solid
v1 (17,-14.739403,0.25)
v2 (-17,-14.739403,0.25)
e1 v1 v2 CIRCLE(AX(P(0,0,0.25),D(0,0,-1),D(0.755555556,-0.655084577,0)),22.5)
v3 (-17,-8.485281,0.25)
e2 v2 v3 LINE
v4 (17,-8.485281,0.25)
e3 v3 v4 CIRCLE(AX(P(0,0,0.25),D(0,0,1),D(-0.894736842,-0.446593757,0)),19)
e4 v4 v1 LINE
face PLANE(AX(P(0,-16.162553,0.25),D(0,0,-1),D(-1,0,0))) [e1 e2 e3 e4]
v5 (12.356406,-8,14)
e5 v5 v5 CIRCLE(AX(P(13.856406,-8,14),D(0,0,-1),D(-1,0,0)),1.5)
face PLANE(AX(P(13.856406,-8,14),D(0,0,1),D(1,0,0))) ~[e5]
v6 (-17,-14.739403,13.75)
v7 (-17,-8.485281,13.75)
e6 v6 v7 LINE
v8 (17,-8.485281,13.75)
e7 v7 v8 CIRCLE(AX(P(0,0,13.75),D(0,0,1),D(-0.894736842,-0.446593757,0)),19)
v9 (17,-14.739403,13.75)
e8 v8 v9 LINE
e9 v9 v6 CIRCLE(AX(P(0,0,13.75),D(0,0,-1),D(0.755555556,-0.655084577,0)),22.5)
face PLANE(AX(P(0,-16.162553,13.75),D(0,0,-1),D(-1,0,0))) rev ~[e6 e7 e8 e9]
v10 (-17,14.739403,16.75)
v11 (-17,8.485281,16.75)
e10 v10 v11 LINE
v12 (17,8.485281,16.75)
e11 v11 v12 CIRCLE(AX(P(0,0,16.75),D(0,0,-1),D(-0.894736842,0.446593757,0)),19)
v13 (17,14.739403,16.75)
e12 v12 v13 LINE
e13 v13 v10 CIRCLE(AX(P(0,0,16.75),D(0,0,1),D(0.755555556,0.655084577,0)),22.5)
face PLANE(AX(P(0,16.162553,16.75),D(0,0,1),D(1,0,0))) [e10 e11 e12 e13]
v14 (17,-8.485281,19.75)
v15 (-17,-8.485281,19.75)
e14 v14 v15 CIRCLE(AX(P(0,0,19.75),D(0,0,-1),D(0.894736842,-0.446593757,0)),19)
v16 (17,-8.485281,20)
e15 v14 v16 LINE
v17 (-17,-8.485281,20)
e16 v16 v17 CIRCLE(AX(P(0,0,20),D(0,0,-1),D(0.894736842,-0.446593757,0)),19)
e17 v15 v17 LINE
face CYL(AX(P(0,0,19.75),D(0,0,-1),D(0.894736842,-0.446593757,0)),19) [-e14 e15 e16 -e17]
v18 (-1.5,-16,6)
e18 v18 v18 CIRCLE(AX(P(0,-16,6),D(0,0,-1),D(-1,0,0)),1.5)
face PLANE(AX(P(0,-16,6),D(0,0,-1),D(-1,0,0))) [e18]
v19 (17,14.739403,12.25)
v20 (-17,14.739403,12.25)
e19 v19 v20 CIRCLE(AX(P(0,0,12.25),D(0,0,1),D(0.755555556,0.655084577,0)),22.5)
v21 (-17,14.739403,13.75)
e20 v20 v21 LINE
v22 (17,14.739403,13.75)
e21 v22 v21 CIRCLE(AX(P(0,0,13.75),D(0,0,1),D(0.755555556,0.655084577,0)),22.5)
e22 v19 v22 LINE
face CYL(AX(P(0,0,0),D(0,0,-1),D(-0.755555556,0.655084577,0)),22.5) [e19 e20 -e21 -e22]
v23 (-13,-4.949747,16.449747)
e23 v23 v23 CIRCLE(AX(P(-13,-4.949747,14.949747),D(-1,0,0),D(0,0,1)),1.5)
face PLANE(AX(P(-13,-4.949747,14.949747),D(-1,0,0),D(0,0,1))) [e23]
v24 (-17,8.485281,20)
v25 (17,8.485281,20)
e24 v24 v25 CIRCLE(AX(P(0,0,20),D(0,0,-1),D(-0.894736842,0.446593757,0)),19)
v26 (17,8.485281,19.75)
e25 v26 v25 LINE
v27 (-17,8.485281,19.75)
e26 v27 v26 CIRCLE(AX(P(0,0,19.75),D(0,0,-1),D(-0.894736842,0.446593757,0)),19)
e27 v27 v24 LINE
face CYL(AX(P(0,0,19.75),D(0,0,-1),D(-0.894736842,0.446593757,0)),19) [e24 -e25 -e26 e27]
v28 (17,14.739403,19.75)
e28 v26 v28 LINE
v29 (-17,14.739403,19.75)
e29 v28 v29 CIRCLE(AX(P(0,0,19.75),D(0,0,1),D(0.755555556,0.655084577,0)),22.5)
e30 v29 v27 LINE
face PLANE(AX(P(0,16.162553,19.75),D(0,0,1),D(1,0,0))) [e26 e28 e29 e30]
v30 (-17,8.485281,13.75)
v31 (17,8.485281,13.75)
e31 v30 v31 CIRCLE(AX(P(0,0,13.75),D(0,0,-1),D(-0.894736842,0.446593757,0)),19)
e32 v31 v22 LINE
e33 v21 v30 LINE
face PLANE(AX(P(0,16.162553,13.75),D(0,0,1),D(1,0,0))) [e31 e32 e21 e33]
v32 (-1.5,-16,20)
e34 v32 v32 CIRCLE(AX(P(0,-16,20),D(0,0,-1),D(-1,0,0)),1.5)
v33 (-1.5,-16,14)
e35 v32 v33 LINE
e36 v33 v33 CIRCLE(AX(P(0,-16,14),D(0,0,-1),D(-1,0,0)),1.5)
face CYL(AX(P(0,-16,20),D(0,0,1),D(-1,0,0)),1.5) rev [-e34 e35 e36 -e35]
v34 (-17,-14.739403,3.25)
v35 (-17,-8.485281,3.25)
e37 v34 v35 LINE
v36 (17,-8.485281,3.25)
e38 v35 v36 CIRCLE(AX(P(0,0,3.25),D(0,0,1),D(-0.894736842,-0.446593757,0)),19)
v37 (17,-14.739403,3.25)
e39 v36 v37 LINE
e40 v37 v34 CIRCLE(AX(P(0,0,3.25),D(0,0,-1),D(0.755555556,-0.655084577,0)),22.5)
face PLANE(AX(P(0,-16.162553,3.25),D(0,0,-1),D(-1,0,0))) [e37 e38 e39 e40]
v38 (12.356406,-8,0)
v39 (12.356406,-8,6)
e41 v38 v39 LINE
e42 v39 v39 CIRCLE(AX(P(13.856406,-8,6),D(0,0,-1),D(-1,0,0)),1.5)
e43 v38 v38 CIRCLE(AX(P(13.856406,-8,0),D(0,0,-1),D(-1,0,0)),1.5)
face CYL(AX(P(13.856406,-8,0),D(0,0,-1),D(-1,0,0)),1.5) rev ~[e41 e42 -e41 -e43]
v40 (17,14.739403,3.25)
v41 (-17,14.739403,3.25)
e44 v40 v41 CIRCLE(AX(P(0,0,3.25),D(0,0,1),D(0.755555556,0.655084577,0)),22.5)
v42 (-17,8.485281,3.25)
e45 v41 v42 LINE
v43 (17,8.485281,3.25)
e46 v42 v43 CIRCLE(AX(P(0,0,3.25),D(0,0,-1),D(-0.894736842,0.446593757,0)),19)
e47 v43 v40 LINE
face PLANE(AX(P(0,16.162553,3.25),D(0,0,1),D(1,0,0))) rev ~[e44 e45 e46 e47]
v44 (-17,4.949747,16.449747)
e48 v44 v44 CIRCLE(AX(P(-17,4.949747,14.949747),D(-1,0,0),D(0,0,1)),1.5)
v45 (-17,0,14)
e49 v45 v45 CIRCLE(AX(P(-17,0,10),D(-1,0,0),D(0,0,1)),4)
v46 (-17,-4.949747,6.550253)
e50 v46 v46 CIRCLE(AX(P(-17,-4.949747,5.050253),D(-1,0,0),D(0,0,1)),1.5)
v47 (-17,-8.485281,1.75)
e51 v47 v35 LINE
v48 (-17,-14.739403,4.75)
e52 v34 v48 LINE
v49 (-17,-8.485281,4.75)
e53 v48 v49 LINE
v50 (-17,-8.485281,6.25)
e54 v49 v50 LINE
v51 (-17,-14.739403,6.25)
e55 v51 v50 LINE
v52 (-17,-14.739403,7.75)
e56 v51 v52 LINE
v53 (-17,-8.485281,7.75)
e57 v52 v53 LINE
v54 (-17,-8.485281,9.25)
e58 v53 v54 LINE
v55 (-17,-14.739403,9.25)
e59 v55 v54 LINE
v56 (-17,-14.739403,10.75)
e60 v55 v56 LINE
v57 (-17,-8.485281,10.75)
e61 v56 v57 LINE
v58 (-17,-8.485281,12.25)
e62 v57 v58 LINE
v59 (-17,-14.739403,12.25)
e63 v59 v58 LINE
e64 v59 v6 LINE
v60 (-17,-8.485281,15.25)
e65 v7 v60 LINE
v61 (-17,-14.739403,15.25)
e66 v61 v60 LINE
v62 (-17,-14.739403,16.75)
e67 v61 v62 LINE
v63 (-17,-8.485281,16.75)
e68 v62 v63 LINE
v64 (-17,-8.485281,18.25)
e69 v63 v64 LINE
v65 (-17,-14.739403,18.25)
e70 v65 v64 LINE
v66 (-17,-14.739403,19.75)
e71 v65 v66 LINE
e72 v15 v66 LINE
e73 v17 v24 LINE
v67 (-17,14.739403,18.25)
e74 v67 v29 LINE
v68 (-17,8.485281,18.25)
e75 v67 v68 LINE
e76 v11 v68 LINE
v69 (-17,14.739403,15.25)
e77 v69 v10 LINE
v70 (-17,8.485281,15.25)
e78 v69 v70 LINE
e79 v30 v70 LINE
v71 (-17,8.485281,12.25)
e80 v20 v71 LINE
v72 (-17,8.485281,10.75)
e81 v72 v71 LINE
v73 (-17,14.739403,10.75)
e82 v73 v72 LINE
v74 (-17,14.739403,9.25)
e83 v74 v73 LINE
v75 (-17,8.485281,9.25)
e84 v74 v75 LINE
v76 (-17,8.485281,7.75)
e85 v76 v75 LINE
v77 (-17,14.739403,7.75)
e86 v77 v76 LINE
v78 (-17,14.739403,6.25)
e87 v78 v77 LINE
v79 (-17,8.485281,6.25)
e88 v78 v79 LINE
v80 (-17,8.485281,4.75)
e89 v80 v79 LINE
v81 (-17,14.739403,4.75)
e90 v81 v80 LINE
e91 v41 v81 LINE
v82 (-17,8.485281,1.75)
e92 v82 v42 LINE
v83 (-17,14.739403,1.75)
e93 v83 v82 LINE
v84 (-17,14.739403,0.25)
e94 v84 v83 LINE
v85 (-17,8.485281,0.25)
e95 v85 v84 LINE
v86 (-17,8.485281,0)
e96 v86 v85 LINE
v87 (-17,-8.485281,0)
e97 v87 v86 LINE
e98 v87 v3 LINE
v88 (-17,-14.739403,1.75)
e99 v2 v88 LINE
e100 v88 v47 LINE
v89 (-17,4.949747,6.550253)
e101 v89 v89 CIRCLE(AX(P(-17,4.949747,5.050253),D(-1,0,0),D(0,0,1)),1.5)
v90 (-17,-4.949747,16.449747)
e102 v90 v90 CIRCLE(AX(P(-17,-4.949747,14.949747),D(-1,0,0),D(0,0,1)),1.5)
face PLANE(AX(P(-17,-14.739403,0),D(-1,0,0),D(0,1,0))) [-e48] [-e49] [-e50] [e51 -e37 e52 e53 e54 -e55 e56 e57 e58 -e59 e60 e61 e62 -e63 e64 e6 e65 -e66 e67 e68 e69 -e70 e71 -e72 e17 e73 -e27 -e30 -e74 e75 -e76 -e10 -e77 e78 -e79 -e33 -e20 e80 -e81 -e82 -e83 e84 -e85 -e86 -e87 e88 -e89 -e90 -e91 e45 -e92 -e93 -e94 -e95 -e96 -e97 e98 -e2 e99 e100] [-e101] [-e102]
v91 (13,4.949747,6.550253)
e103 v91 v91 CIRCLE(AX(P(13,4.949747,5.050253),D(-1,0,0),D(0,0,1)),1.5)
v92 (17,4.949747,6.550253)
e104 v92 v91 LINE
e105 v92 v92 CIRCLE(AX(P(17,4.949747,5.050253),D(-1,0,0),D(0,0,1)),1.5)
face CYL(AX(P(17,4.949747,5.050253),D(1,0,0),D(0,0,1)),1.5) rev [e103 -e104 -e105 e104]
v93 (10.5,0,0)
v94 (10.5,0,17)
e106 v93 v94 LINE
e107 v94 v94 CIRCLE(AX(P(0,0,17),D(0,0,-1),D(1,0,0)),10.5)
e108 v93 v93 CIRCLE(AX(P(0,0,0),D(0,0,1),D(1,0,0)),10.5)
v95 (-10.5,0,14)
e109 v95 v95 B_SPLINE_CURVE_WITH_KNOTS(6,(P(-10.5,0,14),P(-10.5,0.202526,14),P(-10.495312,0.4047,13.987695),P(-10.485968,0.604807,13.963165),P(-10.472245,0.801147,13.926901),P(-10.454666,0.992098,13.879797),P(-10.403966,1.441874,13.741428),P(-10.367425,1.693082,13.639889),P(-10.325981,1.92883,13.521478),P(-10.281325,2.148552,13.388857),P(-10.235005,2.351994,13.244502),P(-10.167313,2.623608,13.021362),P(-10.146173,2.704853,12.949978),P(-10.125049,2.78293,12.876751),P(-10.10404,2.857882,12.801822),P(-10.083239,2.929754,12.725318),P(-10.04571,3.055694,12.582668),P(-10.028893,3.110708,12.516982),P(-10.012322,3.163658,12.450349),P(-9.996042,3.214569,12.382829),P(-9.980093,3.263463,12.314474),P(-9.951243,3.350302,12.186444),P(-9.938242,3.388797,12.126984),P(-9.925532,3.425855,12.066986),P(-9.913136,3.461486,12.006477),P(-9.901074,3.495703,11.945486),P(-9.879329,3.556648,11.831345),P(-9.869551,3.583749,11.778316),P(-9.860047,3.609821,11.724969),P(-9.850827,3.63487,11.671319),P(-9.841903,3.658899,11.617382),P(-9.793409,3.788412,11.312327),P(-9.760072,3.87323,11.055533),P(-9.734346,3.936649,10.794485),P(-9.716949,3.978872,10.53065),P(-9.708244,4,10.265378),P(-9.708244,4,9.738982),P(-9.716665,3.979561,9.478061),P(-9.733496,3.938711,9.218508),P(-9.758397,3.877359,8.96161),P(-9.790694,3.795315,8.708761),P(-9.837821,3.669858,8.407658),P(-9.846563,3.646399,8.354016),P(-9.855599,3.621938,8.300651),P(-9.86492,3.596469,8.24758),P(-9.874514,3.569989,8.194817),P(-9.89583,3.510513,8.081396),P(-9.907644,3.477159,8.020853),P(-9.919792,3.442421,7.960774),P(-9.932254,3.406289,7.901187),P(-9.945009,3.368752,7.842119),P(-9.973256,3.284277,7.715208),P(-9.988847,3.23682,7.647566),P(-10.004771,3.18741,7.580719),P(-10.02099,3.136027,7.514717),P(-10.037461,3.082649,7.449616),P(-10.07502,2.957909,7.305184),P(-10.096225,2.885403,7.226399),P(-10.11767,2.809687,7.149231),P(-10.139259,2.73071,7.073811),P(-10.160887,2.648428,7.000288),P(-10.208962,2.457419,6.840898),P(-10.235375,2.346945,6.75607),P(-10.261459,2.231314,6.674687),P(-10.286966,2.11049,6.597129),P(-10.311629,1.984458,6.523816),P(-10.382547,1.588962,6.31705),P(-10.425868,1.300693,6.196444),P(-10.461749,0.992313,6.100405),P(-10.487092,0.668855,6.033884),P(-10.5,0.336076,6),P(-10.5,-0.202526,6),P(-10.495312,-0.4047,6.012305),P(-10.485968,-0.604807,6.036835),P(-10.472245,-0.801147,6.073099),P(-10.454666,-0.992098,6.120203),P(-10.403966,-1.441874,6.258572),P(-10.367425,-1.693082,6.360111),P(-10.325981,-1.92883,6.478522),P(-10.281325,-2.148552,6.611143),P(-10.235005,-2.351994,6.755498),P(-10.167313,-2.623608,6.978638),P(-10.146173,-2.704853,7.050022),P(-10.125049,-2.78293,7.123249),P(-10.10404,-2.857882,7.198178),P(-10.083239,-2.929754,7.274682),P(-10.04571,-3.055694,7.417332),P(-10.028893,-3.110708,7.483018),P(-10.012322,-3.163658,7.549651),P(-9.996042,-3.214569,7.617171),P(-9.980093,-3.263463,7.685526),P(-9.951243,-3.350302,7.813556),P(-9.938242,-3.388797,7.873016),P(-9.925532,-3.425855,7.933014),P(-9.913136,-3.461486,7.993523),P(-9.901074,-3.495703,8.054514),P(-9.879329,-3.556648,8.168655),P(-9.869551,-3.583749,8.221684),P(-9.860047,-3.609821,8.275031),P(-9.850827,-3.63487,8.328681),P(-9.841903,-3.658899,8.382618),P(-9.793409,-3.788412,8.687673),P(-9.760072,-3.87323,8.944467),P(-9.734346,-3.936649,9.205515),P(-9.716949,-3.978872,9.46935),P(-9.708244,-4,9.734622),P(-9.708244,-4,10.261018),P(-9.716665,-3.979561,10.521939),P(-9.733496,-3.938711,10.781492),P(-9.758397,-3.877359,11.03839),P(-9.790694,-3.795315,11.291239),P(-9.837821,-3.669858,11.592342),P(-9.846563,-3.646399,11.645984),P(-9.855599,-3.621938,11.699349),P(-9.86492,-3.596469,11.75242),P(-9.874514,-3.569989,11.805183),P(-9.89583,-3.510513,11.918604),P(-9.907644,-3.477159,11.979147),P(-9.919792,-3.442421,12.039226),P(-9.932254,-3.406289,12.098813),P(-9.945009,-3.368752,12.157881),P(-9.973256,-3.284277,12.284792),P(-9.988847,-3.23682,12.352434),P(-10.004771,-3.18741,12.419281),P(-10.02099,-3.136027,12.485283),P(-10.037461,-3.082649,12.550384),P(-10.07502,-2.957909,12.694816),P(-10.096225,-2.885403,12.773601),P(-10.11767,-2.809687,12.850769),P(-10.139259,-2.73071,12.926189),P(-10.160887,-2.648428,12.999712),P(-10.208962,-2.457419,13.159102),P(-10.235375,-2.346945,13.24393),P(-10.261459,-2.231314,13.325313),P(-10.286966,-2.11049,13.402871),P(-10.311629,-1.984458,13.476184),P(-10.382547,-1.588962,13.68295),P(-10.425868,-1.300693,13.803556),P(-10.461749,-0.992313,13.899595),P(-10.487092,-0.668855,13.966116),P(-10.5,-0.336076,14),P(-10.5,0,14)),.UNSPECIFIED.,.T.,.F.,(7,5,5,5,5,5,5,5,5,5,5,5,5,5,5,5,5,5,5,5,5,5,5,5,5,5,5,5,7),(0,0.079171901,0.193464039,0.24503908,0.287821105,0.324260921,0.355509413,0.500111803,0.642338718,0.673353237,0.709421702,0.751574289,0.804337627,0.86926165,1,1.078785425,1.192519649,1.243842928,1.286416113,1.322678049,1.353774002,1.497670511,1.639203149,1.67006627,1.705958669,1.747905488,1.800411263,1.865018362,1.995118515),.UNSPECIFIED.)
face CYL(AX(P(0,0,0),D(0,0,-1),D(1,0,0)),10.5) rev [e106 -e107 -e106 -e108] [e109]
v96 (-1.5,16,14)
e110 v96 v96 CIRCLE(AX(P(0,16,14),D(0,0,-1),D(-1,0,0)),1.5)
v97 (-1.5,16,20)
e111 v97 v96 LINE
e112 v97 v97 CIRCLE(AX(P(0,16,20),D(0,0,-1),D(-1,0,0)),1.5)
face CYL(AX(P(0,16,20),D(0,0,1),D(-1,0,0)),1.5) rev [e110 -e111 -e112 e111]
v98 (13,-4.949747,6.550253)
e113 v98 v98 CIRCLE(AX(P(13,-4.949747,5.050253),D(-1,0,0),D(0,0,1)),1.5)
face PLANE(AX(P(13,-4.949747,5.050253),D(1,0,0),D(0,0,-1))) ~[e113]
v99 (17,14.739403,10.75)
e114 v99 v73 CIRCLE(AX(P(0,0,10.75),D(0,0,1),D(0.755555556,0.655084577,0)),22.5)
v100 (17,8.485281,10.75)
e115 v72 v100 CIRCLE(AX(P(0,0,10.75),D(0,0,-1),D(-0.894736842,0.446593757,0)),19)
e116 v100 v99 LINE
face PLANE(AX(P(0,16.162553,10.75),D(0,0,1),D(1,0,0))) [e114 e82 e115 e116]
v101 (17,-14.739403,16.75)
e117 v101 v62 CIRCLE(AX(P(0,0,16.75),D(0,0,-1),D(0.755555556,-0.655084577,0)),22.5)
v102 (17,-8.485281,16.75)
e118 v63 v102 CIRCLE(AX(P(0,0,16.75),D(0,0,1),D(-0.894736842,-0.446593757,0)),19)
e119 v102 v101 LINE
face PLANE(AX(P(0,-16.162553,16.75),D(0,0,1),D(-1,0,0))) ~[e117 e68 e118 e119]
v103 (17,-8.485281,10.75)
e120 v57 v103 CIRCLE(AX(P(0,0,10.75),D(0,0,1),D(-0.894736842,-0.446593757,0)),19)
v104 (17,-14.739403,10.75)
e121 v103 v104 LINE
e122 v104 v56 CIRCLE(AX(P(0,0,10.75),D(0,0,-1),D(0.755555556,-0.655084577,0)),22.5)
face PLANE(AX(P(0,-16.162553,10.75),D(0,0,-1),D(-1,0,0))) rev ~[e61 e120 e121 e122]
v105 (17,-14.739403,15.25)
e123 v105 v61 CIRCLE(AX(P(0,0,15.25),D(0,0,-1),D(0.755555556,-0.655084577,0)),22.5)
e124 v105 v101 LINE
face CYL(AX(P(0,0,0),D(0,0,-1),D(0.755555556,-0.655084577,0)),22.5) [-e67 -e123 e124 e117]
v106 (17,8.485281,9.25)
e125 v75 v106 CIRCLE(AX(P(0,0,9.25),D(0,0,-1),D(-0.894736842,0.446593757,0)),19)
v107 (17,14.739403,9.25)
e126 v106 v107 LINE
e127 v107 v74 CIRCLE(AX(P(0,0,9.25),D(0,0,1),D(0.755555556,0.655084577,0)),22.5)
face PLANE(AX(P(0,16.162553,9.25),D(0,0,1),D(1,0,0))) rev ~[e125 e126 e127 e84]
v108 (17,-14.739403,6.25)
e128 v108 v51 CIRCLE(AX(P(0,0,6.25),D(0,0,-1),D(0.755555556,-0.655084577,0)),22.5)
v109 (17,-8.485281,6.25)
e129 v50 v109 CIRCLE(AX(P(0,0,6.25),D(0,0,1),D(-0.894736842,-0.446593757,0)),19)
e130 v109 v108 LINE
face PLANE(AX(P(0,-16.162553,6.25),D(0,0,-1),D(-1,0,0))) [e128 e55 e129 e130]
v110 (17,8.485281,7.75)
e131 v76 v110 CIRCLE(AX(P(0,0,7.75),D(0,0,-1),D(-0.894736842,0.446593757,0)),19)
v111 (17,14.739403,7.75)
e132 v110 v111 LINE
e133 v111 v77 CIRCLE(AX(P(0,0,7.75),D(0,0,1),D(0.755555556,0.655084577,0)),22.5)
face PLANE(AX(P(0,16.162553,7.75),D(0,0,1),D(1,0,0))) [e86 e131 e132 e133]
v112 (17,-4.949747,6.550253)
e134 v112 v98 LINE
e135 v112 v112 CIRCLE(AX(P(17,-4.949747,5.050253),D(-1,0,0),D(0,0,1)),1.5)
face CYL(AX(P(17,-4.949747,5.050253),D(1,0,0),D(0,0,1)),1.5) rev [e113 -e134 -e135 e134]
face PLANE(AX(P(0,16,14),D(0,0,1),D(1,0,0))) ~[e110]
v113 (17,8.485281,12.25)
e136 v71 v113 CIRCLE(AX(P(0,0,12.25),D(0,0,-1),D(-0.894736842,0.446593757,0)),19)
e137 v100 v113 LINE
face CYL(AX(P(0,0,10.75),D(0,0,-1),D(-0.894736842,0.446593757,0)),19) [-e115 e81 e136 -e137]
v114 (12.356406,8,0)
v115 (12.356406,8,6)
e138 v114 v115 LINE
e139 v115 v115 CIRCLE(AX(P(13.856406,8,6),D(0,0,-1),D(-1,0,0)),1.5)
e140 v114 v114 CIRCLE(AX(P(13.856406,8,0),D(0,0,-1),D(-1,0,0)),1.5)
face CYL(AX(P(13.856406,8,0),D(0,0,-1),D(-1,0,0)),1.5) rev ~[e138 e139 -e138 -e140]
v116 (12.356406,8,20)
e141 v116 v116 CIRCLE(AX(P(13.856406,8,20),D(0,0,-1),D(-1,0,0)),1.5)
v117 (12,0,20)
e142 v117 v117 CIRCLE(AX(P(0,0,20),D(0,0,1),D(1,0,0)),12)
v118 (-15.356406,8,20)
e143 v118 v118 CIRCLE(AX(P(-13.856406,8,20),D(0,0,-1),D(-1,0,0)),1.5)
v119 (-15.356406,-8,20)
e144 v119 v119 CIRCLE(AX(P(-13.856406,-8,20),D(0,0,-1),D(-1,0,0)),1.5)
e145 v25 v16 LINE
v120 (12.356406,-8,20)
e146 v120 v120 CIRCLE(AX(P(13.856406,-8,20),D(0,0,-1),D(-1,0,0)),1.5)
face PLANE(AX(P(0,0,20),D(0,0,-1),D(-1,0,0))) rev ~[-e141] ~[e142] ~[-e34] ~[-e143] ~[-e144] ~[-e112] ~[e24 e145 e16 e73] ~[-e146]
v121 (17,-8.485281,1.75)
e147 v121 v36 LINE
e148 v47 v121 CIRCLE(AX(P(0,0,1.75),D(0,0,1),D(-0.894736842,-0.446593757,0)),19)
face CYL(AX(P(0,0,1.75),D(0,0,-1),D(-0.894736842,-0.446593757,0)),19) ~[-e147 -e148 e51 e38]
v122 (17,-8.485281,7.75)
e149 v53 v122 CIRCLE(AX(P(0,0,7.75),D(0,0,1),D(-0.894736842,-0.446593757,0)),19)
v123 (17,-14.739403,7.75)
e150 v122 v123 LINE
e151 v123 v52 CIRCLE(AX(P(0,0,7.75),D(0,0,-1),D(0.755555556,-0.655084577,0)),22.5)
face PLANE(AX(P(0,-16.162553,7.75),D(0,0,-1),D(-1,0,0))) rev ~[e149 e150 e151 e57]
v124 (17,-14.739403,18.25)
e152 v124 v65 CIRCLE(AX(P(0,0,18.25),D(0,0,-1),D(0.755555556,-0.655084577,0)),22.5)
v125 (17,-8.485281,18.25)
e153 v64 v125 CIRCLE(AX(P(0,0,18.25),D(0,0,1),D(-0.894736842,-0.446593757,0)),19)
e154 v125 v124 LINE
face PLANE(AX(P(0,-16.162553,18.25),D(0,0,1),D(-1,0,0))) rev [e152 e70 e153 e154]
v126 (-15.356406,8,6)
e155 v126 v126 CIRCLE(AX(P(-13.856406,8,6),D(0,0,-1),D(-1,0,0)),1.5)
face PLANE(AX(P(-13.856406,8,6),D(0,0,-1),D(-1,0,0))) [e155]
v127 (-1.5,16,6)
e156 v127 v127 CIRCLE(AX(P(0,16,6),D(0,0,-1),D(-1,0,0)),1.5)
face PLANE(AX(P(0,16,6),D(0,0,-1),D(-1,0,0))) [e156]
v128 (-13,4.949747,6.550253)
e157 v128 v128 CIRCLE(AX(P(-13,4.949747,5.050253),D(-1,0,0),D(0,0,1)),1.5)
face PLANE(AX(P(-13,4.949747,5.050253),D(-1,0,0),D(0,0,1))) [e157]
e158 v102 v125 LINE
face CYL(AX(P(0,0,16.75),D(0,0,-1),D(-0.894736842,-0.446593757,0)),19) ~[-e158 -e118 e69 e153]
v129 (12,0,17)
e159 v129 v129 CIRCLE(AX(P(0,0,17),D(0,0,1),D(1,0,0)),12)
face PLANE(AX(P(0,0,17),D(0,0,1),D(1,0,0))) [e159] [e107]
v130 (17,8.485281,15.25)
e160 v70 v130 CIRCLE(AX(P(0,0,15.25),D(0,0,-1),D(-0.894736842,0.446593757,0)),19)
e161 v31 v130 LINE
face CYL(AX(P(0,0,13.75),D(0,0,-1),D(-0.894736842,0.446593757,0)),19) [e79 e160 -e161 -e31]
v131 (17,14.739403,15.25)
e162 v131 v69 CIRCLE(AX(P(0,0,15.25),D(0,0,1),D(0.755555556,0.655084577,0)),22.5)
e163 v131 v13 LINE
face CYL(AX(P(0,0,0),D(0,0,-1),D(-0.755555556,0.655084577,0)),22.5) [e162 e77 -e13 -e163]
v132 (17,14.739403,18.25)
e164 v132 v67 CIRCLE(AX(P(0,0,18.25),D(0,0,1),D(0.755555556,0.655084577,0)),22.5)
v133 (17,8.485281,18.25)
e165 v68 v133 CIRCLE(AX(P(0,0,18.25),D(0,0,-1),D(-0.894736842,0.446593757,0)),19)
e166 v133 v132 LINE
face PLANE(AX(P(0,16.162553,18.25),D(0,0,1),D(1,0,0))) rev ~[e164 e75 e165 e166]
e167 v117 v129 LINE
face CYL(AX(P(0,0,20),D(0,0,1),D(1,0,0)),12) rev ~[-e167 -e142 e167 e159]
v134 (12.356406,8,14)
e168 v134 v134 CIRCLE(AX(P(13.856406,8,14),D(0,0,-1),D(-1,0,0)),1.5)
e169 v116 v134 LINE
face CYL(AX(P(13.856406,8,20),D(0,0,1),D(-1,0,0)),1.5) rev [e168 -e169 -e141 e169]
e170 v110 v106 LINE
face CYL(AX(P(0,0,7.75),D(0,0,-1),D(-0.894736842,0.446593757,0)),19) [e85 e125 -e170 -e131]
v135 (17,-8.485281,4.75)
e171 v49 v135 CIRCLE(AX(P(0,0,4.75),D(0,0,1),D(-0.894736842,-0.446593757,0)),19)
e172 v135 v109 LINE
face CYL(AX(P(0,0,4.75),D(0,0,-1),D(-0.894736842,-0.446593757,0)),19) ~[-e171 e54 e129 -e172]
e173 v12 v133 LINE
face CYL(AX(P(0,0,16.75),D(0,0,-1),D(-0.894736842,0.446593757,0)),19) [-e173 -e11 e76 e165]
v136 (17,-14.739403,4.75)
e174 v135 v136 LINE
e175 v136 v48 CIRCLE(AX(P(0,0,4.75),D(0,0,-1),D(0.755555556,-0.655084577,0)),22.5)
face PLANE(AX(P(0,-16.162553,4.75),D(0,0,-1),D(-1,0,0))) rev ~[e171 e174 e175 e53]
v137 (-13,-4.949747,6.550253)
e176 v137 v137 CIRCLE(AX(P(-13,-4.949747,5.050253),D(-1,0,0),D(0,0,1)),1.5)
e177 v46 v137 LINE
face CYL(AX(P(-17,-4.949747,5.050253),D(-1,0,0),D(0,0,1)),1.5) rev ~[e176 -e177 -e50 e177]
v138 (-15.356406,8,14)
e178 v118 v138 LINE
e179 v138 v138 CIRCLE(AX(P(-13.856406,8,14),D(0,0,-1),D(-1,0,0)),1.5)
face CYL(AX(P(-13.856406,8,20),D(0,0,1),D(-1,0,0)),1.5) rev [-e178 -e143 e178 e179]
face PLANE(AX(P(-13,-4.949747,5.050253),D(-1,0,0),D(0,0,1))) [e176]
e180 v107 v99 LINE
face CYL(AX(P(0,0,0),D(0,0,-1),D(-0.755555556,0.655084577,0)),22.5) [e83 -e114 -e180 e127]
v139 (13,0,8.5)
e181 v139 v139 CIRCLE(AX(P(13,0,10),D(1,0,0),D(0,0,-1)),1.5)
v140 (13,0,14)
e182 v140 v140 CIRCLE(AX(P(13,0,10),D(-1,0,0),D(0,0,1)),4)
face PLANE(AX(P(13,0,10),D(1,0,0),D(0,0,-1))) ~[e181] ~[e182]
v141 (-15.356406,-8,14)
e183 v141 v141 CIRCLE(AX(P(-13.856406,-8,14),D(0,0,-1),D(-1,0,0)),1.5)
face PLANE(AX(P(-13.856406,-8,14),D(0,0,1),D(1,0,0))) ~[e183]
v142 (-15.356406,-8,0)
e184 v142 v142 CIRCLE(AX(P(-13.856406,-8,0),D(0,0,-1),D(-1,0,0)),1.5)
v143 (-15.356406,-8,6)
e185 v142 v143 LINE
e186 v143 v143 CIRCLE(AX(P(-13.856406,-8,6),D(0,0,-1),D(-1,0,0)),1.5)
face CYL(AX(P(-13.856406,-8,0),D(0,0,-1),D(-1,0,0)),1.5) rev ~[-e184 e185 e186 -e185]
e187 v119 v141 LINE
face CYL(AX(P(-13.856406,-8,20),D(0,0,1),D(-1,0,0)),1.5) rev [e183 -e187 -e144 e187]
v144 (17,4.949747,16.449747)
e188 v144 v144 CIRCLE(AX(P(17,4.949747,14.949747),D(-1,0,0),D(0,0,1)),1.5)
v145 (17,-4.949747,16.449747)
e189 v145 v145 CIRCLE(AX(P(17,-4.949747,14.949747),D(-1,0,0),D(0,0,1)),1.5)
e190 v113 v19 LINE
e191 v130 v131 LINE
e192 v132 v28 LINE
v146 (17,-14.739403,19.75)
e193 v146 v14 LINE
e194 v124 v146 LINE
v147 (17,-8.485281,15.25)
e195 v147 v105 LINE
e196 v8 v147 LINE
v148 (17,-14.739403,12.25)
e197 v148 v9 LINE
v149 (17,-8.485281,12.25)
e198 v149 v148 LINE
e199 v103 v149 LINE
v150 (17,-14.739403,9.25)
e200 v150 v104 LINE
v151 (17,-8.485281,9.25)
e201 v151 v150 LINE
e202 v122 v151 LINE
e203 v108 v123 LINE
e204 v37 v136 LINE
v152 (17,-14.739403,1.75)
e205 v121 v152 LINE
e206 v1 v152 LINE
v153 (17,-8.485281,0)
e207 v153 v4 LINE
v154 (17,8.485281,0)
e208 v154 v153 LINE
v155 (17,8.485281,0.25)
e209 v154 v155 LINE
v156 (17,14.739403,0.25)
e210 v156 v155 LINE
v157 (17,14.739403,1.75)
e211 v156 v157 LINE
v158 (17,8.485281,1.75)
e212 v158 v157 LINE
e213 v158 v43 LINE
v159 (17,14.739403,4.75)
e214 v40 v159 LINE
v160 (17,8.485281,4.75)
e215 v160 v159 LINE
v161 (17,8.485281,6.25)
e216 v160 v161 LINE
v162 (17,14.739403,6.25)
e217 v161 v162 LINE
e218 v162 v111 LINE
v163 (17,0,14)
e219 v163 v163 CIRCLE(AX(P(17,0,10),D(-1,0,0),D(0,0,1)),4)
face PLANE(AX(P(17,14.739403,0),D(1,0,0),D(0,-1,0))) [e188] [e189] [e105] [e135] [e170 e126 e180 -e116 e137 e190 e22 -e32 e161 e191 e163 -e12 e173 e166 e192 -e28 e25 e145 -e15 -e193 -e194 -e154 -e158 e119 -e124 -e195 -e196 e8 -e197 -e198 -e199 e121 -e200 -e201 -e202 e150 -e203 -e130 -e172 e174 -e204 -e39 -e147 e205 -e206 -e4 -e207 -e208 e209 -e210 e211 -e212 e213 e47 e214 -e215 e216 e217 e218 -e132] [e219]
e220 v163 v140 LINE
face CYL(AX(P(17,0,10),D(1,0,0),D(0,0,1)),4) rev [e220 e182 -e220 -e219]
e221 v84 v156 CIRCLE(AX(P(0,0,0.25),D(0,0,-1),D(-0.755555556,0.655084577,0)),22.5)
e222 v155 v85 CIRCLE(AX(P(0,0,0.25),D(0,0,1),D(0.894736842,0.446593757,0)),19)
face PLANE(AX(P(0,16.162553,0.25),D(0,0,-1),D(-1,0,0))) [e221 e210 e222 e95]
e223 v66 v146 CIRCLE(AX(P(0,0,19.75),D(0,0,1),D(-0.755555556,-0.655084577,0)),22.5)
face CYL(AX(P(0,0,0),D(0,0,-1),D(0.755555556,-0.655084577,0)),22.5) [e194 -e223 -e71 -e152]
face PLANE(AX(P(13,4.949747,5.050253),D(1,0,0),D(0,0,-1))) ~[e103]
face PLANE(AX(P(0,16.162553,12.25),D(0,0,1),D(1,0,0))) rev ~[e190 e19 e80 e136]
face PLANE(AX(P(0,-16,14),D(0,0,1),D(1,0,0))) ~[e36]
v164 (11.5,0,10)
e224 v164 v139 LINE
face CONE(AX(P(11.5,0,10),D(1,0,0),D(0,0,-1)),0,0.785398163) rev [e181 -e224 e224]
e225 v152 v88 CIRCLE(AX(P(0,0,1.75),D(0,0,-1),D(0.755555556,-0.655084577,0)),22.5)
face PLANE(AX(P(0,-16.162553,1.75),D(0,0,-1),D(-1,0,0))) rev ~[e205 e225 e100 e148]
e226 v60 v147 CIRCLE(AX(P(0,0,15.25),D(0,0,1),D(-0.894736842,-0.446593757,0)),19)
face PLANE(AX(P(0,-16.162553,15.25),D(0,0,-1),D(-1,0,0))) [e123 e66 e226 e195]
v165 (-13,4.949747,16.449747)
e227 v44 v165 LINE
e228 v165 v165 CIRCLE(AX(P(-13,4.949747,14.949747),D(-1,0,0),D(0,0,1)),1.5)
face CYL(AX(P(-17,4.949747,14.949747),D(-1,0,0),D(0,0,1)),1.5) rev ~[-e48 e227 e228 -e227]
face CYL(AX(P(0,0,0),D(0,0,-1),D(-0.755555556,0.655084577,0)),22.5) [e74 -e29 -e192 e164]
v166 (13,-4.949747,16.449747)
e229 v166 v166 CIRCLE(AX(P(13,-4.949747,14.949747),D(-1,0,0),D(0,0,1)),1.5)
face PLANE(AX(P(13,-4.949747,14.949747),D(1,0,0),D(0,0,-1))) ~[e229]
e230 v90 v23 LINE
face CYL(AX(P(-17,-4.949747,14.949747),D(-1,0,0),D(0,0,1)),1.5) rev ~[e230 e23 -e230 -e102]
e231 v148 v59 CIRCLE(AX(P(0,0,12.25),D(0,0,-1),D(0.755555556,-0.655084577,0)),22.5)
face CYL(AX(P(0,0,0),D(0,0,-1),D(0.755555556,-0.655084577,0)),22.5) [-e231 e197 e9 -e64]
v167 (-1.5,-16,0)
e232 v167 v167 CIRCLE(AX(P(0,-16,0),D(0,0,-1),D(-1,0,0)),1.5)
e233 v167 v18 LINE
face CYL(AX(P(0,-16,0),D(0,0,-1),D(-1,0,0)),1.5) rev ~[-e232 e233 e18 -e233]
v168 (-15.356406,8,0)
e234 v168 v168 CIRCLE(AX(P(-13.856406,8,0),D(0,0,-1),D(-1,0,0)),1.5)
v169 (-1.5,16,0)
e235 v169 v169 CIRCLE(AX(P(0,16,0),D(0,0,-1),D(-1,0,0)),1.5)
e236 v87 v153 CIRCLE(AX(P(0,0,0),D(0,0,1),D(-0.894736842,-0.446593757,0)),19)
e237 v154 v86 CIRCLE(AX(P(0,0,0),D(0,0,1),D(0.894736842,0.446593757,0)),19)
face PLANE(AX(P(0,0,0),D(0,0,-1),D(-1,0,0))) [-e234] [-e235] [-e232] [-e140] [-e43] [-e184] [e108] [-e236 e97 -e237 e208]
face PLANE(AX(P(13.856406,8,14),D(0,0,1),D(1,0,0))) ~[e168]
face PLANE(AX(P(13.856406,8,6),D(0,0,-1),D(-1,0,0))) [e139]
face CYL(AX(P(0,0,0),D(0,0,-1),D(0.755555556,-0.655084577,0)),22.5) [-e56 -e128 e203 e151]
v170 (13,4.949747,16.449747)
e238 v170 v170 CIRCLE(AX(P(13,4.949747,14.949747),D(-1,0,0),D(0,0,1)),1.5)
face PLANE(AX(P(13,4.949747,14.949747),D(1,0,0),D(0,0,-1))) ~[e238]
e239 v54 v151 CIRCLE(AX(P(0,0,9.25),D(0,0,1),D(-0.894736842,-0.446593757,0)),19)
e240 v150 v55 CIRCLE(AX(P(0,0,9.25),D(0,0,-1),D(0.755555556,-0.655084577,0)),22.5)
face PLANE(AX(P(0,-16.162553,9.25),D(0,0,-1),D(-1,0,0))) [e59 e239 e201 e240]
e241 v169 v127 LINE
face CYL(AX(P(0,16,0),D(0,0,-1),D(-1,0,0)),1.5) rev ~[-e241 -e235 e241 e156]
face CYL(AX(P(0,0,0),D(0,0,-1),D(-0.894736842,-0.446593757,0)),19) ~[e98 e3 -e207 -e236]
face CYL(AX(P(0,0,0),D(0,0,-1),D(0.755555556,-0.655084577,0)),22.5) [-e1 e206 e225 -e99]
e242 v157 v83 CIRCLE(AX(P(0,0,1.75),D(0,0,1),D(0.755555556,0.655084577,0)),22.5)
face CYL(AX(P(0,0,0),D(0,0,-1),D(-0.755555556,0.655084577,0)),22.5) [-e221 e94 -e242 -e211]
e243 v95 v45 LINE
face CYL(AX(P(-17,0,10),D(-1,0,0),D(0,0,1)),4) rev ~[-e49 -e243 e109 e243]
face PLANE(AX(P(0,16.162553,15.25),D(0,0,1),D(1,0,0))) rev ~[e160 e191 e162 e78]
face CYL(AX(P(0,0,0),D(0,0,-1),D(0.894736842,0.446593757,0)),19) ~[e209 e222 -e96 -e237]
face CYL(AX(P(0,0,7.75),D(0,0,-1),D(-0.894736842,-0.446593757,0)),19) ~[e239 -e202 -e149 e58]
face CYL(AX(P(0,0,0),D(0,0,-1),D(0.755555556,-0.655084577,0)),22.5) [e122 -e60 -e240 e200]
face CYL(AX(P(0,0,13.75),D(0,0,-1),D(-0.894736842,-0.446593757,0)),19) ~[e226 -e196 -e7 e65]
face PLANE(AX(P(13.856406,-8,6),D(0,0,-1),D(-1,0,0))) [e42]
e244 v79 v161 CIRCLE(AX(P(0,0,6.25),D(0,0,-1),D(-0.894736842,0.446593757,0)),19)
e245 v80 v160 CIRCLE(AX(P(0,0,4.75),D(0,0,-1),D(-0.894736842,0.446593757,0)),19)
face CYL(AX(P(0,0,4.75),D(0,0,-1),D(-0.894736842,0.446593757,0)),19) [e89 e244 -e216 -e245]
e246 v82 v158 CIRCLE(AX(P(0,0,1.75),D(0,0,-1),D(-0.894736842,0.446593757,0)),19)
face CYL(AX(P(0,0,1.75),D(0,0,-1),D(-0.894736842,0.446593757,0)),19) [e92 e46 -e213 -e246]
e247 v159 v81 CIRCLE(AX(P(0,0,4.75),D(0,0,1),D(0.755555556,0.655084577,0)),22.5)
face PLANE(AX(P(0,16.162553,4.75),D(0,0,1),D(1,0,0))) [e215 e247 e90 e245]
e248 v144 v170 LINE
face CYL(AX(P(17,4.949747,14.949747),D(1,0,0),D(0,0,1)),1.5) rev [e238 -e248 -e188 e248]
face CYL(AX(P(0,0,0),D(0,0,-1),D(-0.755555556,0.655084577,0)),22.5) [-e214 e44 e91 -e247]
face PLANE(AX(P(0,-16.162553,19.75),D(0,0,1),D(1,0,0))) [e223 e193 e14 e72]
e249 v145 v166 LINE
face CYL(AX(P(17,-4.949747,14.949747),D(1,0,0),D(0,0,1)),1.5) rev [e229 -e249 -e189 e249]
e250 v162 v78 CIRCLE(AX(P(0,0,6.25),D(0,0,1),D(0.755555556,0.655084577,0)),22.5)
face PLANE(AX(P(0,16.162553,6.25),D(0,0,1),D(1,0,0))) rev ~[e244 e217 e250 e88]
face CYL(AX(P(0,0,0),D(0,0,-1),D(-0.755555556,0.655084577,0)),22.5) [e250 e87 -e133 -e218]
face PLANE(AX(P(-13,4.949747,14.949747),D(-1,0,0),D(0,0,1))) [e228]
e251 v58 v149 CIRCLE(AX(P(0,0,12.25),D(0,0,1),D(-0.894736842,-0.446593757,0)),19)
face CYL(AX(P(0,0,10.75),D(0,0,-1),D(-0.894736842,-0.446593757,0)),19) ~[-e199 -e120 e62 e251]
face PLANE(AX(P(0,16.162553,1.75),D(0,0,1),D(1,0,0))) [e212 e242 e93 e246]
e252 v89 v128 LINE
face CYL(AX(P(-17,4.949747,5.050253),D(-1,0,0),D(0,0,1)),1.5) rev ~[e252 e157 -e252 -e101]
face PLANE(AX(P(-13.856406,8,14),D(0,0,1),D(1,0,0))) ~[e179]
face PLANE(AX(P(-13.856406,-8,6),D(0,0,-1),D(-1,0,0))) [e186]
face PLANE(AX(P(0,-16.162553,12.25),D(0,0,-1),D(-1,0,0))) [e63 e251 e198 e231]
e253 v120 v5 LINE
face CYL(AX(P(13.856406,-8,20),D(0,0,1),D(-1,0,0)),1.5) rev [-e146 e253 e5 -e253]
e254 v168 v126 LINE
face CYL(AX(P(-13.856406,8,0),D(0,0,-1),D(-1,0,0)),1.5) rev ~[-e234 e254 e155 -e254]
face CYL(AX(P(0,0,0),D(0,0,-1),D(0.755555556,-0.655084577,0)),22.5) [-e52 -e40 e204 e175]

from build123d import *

# Parameters (mm, degrees)
SKETCH1_R               = 10.5
BOSS_EXTRUDE1_DEPTH     = 20
SKETCH2_R               = 12
CUT_EXTRUDE1_DEPTH      = 3
CUT_EXTRUDE2_DEPTH      = 0.25
CUT_EXTRUDE3_START      = -0.25
CUT_EXTRUDE3_DEPTH      = 0.25
CUT_EXTRUDE4_START      = -1.5
CUT_EXTRUDE4_DEPTH      = 1.5
LPATTERN1_COUNT         = 6
LPATTERN1_PITCH         = 3
MIRROR1_START           = -1.5
MIRROR1_COPY_1_DEPTH    = 1.5
MIRROR1_COPY_2_DEPTH    = 1.5
MIRROR1_COPY_3_DEPTH    = 1.5
MIRROR1_COPY_4_DEPTH    = 1.5
MIRROR1_COPY_5_DEPTH    = 1.5
CUT_EXTRUDE5_REACH      = 47.412
CUT_EXTRUDE5_END_RADIUS = 10.5
SKETCH6_R               = 4
SKETCH8_R               = 4
SKETCH8_R_2             = 1.5
CUT_EXTRUDE6_DEPTH      = 4
SKETCH10_R              = 1.5
CUT_EXTRUDE7_DEPTH      = 6


with BuildPart() as part:
    # Sketch1 → Boss-Extrude1 (new body)
    with BuildSketch(Plane.XY):
        with BuildLine():
            Line((-17, -14.739402973), (-17, 14.739402973))
            ThreePointArc((-17, 14.739402973), (0, 22.5), (17, 14.739402973))
            Line((17, 14.739402973), (17, -14.739402973))
            ThreePointArc((17, -14.739402973), (0, -22.5), (-17, -14.739402973))
        make_face()
        Circle(SKETCH1_R, mode=Mode.SUBTRACT)
    extrude(amount=BOSS_EXTRUDE1_DEPTH)

    # Sketch2 → Cut-Extrude1 (cut)
    with BuildSketch(Plane.XY.offset(20)):
        Circle(SKETCH2_R)
    extrude(amount=-CUT_EXTRUDE1_DEPTH, mode=Mode.SUBTRACT)

    # Sketch3 → Cut-Extrude2 (cut)
    with BuildSketch(Plane(origin=(0, 0, 0), x_dir=(-1, 0, 0), z_dir=(0, 0, -1))):
        with BuildLine():
            ThreePointArc((-17, 8.485281374), (0, 19), (17, 8.485281374))
            Line((17, 8.485281374), (17, 14.739402973))
            ThreePointArc((17, 14.739402973), (0, 22.5), (-17, 14.739402973))
            Line((-17, 14.739402973), (-17, 8.485281374))
        make_face()
        with BuildLine():
            Line((17, -14.739402973), (17, -8.485281374))
            ThreePointArc((17, -8.485281374), (0, -19), (-17, -8.485281374))
            Line((-17, -8.485281374), (-17, -14.739402973))
            ThreePointArc((-17, -14.739402973), (0, -22.5), (17, -14.739402973))
        make_face()
    extrude(amount=-CUT_EXTRUDE2_DEPTH, mode=Mode.SUBTRACT)

    # Sketch4 → Cut-Extrude3 (cut)
    with BuildSketch(Plane.XY.offset(20).offset(CUT_EXTRUDE3_START)):
        with BuildLine():
            ThreePointArc((-17, 8.485281374), (0, 19), (17, 8.485281374))
            Line((17, 8.485281374), (17, 14.739402973))
            ThreePointArc((17, 14.739402973), (0, 22.5), (-17, 14.739402973))
            Line((-17, 14.739402973), (-17, 8.485281374))
        make_face()
        with BuildLine():
            Line((17, -14.739402973), (17, -8.485281374))
            ThreePointArc((17, -8.485281374), (0, -19), (-17, -8.485281374))
            Line((-17, -8.485281374), (-17, -14.739402973))
            ThreePointArc((-17, -14.739402973), (0, -22.5), (17, -14.739402973))
        make_face()
    extrude(amount=CUT_EXTRUDE3_DEPTH, mode=Mode.SUBTRACT)

    # Sketch5 → Cut-Extrude4 (cut)
    with BuildSketch(Plane.XY.offset(18.25).offset(CUT_EXTRUDE4_START)):
        with BuildLine():
            Line((17, 8.485281374), (17, 14.739402973))
            ThreePointArc((17, 14.739402973), (0, 22.5), (-17, 14.739402973))
            Line((-17, 14.739402973), (-17, 8.485281374))
            ThreePointArc((-17, 8.485281374), (0, 19), (17, 8.485281374))
        make_face()
    cut_extrude4 = extrude(amount=CUT_EXTRUDE4_DEPTH, mode=Mode.SUBTRACT)

    # LPattern1: Cut-Extrude4 ×6
    with Locations(*[(0, 0, -i * LPATTERN1_PITCH) for i in range(1, LPATTERN1_COUNT)]):
        add(cut_extrude4, mode=Mode.SUBTRACT)

    # Mirror1: Cut-Extrude4 across plane
    add(cut_extrude4.mirror(Plane.ZX), mode=Mode.SUBTRACT)

    # Mirror1 copy 1 sketch → Mirror1 copy 1 (cut)
    with BuildSketch(Plane.XY.offset(15.25).offset(MIRROR1_START)):
        with BuildLine():
            Line((17, -8.485281374), (17, -14.739402973))
            ThreePointArc((17, -14.739402973), (0, -22.5), (-17, -14.739402973))
            Line((-17, -14.739402973), (-17, -8.485281374))
            ThreePointArc((-17, -8.485281374), (0, -19), (17, -8.485281374))
        make_face()
    extrude(amount=MIRROR1_COPY_1_DEPTH, mode=Mode.SUBTRACT)

    # Mirror1 copy 2 sketch → Mirror1 copy 2 (cut)
    with BuildSketch(Plane.XY.offset(12.25).offset(MIRROR1_START)):
        with BuildLine():
            Line((17, -8.485281374), (17, -14.739402973))
            ThreePointArc((17, -14.739402973), (0, -22.5), (-17, -14.739402973))
            Line((-17, -14.739402973), (-17, -8.485281374))
            ThreePointArc((-17, -8.485281374), (0, -19), (17, -8.485281374))
        make_face()
    extrude(amount=MIRROR1_COPY_2_DEPTH, mode=Mode.SUBTRACT)

    # Mirror1 copy 3 sketch → Mirror1 copy 3 (cut)
    with BuildSketch(Plane.XY.offset(9.25).offset(MIRROR1_START)):
        with BuildLine():
            Line((17, -8.485281374), (17, -14.739402973))
            ThreePointArc((17, -14.739402973), (0, -22.5), (-17, -14.739402973))
            Line((-17, -14.739402973), (-17, -8.485281374))
            ThreePointArc((-17, -8.485281374), (0, -19), (17, -8.485281374))
        make_face()
    extrude(amount=MIRROR1_COPY_3_DEPTH, mode=Mode.SUBTRACT)

    # Mirror1 copy 4 sketch → Mirror1 copy 4 (cut)
    with BuildSketch(Plane.XY.offset(6.25).offset(MIRROR1_START)):
        with BuildLine():
            Line((17, -8.485281374), (17, -14.739402973))
            ThreePointArc((17, -14.739402973), (0, -22.5), (-17, -14.739402973))
            Line((-17, -14.739402973), (-17, -8.485281374))
            ThreePointArc((-17, -8.485281374), (0, -19), (17, -8.485281374))
        make_face()
    extrude(amount=MIRROR1_COPY_4_DEPTH, mode=Mode.SUBTRACT)

    # Mirror1 copy 5 sketch → Mirror1 copy 5 (cut)
    with BuildSketch(Plane.XY.offset(3.25).offset(MIRROR1_START)):
        with BuildLine():
            Line((17, -8.485281374), (17, -14.739402973))
            ThreePointArc((17, -14.739402973), (0, -22.5), (-17, -14.739402973))
            Line((-17, -14.739402973), (-17, -8.485281374))
            ThreePointArc((-17, -8.485281374), (0, -19), (17, -8.485281374))
        make_face()
    extrude(amount=MIRROR1_COPY_5_DEPTH, mode=Mode.SUBTRACT)

    # Cut-Extrude5: up to this cylinder (the profile starts outside it)
    cut_extrude5_end = Plane(origin=(0, 0, 10), z_dir=(0, 0, -1)) * Cylinder(CUT_EXTRUDE5_END_RADIUS, 116.824, mode=Mode.PRIVATE)
    # Sketch6 → Cut-Extrude5 (cut, up to the surface)
    with BuildSketch(Plane.ZY.offset(17), mode=Mode.PRIVATE) as cut_extrude5_sk1:
        with Locations((10, 0)):
            Circle(SKETCH6_R)
    cut_extrude5_tool1 = extrude(cut_extrude5_sk1.sketch, amount=-CUT_EXTRUDE5_REACH, mode=Mode.PRIVATE) - cut_extrude5_end
    add(cut_extrude5_tool1.solids().sort_by_distance((-17, 0, 10))[0], mode=Mode.SUBTRACT)

    # Sketch8 → Cut-Extrude6 (cut)
    with BuildSketch(Plane.ZY.offset(17)):
        with Locations((10, 0)):
            Circle(SKETCH8_R)
        with Locations((5.050252532, 4.949747468)):
            Circle(SKETCH8_R_2)
        with Locations((14.949747468, 4.949747468)):
            Circle(SKETCH8_R_2)
        with Locations((14.949747468, -4.949747468)):
            Circle(SKETCH8_R_2)
        with Locations((5.050252532, -4.949747468)):
            Circle(SKETCH8_R_2)
    cut_extrude6 = extrude(amount=-CUT_EXTRUDE6_DEPTH, mode=Mode.SUBTRACT)

    # Sketch9 → Cut-Revolve1 (revolve, cut)
    with BuildSketch(Plane(origin=(0, 0, 10), x_dir=(-1, 0, 0), z_dir=(0, 0, -1)), mode=Mode.PRIVATE) as cut_revolve1_sk:
        Polygon((-17, 0), (-11.5, 0), (-14.5, -3), (-17, -3), align=None)
    revolve(cut_revolve1_sk.sketch.rotate(Axis((17, 0, 10), (-1, 0, 0)), 270), axis=Axis((17, 0, 10), (-1, 0, 0)), mode=Mode.SUBTRACT)

    # Mirror2: Cut-Extrude6 across plane
    add(cut_extrude6.mirror(Plane(origin=(0, 0, 0), x_dir=(0, 0, 1), z_dir=(1, 0, 0))), mode=Mode.SUBTRACT)

    # Sketch10 → Cut-Extrude7 (cut)
    with BuildSketch(Plane(origin=(0, 0, 0), x_dir=(-1, 0, 0), z_dir=(0, 0, -1))):
        with Locations((0, 16)):
            Circle(SKETCH10_R)
        with Locations((13.856406461, 8)):
            Circle(SKETCH10_R)
        with Locations((13.856406461, -8)):
            Circle(SKETCH10_R)
        with Locations((0, -16)):
            Circle(SKETCH10_R)
        with Locations((-13.856406461, -8)):
            Circle(SKETCH10_R)
        with Locations((-13.856406461, 8)):
            Circle(SKETCH10_R)
    cut_extrude7 = extrude(amount=-CUT_EXTRUDE7_DEPTH, mode=Mode.SUBTRACT)

    # Mirror3: Cut-Extrude7 across plane
    add(cut_extrude7.mirror(Plane(origin=(0, 0, 10), x_dir=(1, 0, 0), z_dir=(0, 0, -1))), mode=Mode.SUBTRACT)


solid = part.part
